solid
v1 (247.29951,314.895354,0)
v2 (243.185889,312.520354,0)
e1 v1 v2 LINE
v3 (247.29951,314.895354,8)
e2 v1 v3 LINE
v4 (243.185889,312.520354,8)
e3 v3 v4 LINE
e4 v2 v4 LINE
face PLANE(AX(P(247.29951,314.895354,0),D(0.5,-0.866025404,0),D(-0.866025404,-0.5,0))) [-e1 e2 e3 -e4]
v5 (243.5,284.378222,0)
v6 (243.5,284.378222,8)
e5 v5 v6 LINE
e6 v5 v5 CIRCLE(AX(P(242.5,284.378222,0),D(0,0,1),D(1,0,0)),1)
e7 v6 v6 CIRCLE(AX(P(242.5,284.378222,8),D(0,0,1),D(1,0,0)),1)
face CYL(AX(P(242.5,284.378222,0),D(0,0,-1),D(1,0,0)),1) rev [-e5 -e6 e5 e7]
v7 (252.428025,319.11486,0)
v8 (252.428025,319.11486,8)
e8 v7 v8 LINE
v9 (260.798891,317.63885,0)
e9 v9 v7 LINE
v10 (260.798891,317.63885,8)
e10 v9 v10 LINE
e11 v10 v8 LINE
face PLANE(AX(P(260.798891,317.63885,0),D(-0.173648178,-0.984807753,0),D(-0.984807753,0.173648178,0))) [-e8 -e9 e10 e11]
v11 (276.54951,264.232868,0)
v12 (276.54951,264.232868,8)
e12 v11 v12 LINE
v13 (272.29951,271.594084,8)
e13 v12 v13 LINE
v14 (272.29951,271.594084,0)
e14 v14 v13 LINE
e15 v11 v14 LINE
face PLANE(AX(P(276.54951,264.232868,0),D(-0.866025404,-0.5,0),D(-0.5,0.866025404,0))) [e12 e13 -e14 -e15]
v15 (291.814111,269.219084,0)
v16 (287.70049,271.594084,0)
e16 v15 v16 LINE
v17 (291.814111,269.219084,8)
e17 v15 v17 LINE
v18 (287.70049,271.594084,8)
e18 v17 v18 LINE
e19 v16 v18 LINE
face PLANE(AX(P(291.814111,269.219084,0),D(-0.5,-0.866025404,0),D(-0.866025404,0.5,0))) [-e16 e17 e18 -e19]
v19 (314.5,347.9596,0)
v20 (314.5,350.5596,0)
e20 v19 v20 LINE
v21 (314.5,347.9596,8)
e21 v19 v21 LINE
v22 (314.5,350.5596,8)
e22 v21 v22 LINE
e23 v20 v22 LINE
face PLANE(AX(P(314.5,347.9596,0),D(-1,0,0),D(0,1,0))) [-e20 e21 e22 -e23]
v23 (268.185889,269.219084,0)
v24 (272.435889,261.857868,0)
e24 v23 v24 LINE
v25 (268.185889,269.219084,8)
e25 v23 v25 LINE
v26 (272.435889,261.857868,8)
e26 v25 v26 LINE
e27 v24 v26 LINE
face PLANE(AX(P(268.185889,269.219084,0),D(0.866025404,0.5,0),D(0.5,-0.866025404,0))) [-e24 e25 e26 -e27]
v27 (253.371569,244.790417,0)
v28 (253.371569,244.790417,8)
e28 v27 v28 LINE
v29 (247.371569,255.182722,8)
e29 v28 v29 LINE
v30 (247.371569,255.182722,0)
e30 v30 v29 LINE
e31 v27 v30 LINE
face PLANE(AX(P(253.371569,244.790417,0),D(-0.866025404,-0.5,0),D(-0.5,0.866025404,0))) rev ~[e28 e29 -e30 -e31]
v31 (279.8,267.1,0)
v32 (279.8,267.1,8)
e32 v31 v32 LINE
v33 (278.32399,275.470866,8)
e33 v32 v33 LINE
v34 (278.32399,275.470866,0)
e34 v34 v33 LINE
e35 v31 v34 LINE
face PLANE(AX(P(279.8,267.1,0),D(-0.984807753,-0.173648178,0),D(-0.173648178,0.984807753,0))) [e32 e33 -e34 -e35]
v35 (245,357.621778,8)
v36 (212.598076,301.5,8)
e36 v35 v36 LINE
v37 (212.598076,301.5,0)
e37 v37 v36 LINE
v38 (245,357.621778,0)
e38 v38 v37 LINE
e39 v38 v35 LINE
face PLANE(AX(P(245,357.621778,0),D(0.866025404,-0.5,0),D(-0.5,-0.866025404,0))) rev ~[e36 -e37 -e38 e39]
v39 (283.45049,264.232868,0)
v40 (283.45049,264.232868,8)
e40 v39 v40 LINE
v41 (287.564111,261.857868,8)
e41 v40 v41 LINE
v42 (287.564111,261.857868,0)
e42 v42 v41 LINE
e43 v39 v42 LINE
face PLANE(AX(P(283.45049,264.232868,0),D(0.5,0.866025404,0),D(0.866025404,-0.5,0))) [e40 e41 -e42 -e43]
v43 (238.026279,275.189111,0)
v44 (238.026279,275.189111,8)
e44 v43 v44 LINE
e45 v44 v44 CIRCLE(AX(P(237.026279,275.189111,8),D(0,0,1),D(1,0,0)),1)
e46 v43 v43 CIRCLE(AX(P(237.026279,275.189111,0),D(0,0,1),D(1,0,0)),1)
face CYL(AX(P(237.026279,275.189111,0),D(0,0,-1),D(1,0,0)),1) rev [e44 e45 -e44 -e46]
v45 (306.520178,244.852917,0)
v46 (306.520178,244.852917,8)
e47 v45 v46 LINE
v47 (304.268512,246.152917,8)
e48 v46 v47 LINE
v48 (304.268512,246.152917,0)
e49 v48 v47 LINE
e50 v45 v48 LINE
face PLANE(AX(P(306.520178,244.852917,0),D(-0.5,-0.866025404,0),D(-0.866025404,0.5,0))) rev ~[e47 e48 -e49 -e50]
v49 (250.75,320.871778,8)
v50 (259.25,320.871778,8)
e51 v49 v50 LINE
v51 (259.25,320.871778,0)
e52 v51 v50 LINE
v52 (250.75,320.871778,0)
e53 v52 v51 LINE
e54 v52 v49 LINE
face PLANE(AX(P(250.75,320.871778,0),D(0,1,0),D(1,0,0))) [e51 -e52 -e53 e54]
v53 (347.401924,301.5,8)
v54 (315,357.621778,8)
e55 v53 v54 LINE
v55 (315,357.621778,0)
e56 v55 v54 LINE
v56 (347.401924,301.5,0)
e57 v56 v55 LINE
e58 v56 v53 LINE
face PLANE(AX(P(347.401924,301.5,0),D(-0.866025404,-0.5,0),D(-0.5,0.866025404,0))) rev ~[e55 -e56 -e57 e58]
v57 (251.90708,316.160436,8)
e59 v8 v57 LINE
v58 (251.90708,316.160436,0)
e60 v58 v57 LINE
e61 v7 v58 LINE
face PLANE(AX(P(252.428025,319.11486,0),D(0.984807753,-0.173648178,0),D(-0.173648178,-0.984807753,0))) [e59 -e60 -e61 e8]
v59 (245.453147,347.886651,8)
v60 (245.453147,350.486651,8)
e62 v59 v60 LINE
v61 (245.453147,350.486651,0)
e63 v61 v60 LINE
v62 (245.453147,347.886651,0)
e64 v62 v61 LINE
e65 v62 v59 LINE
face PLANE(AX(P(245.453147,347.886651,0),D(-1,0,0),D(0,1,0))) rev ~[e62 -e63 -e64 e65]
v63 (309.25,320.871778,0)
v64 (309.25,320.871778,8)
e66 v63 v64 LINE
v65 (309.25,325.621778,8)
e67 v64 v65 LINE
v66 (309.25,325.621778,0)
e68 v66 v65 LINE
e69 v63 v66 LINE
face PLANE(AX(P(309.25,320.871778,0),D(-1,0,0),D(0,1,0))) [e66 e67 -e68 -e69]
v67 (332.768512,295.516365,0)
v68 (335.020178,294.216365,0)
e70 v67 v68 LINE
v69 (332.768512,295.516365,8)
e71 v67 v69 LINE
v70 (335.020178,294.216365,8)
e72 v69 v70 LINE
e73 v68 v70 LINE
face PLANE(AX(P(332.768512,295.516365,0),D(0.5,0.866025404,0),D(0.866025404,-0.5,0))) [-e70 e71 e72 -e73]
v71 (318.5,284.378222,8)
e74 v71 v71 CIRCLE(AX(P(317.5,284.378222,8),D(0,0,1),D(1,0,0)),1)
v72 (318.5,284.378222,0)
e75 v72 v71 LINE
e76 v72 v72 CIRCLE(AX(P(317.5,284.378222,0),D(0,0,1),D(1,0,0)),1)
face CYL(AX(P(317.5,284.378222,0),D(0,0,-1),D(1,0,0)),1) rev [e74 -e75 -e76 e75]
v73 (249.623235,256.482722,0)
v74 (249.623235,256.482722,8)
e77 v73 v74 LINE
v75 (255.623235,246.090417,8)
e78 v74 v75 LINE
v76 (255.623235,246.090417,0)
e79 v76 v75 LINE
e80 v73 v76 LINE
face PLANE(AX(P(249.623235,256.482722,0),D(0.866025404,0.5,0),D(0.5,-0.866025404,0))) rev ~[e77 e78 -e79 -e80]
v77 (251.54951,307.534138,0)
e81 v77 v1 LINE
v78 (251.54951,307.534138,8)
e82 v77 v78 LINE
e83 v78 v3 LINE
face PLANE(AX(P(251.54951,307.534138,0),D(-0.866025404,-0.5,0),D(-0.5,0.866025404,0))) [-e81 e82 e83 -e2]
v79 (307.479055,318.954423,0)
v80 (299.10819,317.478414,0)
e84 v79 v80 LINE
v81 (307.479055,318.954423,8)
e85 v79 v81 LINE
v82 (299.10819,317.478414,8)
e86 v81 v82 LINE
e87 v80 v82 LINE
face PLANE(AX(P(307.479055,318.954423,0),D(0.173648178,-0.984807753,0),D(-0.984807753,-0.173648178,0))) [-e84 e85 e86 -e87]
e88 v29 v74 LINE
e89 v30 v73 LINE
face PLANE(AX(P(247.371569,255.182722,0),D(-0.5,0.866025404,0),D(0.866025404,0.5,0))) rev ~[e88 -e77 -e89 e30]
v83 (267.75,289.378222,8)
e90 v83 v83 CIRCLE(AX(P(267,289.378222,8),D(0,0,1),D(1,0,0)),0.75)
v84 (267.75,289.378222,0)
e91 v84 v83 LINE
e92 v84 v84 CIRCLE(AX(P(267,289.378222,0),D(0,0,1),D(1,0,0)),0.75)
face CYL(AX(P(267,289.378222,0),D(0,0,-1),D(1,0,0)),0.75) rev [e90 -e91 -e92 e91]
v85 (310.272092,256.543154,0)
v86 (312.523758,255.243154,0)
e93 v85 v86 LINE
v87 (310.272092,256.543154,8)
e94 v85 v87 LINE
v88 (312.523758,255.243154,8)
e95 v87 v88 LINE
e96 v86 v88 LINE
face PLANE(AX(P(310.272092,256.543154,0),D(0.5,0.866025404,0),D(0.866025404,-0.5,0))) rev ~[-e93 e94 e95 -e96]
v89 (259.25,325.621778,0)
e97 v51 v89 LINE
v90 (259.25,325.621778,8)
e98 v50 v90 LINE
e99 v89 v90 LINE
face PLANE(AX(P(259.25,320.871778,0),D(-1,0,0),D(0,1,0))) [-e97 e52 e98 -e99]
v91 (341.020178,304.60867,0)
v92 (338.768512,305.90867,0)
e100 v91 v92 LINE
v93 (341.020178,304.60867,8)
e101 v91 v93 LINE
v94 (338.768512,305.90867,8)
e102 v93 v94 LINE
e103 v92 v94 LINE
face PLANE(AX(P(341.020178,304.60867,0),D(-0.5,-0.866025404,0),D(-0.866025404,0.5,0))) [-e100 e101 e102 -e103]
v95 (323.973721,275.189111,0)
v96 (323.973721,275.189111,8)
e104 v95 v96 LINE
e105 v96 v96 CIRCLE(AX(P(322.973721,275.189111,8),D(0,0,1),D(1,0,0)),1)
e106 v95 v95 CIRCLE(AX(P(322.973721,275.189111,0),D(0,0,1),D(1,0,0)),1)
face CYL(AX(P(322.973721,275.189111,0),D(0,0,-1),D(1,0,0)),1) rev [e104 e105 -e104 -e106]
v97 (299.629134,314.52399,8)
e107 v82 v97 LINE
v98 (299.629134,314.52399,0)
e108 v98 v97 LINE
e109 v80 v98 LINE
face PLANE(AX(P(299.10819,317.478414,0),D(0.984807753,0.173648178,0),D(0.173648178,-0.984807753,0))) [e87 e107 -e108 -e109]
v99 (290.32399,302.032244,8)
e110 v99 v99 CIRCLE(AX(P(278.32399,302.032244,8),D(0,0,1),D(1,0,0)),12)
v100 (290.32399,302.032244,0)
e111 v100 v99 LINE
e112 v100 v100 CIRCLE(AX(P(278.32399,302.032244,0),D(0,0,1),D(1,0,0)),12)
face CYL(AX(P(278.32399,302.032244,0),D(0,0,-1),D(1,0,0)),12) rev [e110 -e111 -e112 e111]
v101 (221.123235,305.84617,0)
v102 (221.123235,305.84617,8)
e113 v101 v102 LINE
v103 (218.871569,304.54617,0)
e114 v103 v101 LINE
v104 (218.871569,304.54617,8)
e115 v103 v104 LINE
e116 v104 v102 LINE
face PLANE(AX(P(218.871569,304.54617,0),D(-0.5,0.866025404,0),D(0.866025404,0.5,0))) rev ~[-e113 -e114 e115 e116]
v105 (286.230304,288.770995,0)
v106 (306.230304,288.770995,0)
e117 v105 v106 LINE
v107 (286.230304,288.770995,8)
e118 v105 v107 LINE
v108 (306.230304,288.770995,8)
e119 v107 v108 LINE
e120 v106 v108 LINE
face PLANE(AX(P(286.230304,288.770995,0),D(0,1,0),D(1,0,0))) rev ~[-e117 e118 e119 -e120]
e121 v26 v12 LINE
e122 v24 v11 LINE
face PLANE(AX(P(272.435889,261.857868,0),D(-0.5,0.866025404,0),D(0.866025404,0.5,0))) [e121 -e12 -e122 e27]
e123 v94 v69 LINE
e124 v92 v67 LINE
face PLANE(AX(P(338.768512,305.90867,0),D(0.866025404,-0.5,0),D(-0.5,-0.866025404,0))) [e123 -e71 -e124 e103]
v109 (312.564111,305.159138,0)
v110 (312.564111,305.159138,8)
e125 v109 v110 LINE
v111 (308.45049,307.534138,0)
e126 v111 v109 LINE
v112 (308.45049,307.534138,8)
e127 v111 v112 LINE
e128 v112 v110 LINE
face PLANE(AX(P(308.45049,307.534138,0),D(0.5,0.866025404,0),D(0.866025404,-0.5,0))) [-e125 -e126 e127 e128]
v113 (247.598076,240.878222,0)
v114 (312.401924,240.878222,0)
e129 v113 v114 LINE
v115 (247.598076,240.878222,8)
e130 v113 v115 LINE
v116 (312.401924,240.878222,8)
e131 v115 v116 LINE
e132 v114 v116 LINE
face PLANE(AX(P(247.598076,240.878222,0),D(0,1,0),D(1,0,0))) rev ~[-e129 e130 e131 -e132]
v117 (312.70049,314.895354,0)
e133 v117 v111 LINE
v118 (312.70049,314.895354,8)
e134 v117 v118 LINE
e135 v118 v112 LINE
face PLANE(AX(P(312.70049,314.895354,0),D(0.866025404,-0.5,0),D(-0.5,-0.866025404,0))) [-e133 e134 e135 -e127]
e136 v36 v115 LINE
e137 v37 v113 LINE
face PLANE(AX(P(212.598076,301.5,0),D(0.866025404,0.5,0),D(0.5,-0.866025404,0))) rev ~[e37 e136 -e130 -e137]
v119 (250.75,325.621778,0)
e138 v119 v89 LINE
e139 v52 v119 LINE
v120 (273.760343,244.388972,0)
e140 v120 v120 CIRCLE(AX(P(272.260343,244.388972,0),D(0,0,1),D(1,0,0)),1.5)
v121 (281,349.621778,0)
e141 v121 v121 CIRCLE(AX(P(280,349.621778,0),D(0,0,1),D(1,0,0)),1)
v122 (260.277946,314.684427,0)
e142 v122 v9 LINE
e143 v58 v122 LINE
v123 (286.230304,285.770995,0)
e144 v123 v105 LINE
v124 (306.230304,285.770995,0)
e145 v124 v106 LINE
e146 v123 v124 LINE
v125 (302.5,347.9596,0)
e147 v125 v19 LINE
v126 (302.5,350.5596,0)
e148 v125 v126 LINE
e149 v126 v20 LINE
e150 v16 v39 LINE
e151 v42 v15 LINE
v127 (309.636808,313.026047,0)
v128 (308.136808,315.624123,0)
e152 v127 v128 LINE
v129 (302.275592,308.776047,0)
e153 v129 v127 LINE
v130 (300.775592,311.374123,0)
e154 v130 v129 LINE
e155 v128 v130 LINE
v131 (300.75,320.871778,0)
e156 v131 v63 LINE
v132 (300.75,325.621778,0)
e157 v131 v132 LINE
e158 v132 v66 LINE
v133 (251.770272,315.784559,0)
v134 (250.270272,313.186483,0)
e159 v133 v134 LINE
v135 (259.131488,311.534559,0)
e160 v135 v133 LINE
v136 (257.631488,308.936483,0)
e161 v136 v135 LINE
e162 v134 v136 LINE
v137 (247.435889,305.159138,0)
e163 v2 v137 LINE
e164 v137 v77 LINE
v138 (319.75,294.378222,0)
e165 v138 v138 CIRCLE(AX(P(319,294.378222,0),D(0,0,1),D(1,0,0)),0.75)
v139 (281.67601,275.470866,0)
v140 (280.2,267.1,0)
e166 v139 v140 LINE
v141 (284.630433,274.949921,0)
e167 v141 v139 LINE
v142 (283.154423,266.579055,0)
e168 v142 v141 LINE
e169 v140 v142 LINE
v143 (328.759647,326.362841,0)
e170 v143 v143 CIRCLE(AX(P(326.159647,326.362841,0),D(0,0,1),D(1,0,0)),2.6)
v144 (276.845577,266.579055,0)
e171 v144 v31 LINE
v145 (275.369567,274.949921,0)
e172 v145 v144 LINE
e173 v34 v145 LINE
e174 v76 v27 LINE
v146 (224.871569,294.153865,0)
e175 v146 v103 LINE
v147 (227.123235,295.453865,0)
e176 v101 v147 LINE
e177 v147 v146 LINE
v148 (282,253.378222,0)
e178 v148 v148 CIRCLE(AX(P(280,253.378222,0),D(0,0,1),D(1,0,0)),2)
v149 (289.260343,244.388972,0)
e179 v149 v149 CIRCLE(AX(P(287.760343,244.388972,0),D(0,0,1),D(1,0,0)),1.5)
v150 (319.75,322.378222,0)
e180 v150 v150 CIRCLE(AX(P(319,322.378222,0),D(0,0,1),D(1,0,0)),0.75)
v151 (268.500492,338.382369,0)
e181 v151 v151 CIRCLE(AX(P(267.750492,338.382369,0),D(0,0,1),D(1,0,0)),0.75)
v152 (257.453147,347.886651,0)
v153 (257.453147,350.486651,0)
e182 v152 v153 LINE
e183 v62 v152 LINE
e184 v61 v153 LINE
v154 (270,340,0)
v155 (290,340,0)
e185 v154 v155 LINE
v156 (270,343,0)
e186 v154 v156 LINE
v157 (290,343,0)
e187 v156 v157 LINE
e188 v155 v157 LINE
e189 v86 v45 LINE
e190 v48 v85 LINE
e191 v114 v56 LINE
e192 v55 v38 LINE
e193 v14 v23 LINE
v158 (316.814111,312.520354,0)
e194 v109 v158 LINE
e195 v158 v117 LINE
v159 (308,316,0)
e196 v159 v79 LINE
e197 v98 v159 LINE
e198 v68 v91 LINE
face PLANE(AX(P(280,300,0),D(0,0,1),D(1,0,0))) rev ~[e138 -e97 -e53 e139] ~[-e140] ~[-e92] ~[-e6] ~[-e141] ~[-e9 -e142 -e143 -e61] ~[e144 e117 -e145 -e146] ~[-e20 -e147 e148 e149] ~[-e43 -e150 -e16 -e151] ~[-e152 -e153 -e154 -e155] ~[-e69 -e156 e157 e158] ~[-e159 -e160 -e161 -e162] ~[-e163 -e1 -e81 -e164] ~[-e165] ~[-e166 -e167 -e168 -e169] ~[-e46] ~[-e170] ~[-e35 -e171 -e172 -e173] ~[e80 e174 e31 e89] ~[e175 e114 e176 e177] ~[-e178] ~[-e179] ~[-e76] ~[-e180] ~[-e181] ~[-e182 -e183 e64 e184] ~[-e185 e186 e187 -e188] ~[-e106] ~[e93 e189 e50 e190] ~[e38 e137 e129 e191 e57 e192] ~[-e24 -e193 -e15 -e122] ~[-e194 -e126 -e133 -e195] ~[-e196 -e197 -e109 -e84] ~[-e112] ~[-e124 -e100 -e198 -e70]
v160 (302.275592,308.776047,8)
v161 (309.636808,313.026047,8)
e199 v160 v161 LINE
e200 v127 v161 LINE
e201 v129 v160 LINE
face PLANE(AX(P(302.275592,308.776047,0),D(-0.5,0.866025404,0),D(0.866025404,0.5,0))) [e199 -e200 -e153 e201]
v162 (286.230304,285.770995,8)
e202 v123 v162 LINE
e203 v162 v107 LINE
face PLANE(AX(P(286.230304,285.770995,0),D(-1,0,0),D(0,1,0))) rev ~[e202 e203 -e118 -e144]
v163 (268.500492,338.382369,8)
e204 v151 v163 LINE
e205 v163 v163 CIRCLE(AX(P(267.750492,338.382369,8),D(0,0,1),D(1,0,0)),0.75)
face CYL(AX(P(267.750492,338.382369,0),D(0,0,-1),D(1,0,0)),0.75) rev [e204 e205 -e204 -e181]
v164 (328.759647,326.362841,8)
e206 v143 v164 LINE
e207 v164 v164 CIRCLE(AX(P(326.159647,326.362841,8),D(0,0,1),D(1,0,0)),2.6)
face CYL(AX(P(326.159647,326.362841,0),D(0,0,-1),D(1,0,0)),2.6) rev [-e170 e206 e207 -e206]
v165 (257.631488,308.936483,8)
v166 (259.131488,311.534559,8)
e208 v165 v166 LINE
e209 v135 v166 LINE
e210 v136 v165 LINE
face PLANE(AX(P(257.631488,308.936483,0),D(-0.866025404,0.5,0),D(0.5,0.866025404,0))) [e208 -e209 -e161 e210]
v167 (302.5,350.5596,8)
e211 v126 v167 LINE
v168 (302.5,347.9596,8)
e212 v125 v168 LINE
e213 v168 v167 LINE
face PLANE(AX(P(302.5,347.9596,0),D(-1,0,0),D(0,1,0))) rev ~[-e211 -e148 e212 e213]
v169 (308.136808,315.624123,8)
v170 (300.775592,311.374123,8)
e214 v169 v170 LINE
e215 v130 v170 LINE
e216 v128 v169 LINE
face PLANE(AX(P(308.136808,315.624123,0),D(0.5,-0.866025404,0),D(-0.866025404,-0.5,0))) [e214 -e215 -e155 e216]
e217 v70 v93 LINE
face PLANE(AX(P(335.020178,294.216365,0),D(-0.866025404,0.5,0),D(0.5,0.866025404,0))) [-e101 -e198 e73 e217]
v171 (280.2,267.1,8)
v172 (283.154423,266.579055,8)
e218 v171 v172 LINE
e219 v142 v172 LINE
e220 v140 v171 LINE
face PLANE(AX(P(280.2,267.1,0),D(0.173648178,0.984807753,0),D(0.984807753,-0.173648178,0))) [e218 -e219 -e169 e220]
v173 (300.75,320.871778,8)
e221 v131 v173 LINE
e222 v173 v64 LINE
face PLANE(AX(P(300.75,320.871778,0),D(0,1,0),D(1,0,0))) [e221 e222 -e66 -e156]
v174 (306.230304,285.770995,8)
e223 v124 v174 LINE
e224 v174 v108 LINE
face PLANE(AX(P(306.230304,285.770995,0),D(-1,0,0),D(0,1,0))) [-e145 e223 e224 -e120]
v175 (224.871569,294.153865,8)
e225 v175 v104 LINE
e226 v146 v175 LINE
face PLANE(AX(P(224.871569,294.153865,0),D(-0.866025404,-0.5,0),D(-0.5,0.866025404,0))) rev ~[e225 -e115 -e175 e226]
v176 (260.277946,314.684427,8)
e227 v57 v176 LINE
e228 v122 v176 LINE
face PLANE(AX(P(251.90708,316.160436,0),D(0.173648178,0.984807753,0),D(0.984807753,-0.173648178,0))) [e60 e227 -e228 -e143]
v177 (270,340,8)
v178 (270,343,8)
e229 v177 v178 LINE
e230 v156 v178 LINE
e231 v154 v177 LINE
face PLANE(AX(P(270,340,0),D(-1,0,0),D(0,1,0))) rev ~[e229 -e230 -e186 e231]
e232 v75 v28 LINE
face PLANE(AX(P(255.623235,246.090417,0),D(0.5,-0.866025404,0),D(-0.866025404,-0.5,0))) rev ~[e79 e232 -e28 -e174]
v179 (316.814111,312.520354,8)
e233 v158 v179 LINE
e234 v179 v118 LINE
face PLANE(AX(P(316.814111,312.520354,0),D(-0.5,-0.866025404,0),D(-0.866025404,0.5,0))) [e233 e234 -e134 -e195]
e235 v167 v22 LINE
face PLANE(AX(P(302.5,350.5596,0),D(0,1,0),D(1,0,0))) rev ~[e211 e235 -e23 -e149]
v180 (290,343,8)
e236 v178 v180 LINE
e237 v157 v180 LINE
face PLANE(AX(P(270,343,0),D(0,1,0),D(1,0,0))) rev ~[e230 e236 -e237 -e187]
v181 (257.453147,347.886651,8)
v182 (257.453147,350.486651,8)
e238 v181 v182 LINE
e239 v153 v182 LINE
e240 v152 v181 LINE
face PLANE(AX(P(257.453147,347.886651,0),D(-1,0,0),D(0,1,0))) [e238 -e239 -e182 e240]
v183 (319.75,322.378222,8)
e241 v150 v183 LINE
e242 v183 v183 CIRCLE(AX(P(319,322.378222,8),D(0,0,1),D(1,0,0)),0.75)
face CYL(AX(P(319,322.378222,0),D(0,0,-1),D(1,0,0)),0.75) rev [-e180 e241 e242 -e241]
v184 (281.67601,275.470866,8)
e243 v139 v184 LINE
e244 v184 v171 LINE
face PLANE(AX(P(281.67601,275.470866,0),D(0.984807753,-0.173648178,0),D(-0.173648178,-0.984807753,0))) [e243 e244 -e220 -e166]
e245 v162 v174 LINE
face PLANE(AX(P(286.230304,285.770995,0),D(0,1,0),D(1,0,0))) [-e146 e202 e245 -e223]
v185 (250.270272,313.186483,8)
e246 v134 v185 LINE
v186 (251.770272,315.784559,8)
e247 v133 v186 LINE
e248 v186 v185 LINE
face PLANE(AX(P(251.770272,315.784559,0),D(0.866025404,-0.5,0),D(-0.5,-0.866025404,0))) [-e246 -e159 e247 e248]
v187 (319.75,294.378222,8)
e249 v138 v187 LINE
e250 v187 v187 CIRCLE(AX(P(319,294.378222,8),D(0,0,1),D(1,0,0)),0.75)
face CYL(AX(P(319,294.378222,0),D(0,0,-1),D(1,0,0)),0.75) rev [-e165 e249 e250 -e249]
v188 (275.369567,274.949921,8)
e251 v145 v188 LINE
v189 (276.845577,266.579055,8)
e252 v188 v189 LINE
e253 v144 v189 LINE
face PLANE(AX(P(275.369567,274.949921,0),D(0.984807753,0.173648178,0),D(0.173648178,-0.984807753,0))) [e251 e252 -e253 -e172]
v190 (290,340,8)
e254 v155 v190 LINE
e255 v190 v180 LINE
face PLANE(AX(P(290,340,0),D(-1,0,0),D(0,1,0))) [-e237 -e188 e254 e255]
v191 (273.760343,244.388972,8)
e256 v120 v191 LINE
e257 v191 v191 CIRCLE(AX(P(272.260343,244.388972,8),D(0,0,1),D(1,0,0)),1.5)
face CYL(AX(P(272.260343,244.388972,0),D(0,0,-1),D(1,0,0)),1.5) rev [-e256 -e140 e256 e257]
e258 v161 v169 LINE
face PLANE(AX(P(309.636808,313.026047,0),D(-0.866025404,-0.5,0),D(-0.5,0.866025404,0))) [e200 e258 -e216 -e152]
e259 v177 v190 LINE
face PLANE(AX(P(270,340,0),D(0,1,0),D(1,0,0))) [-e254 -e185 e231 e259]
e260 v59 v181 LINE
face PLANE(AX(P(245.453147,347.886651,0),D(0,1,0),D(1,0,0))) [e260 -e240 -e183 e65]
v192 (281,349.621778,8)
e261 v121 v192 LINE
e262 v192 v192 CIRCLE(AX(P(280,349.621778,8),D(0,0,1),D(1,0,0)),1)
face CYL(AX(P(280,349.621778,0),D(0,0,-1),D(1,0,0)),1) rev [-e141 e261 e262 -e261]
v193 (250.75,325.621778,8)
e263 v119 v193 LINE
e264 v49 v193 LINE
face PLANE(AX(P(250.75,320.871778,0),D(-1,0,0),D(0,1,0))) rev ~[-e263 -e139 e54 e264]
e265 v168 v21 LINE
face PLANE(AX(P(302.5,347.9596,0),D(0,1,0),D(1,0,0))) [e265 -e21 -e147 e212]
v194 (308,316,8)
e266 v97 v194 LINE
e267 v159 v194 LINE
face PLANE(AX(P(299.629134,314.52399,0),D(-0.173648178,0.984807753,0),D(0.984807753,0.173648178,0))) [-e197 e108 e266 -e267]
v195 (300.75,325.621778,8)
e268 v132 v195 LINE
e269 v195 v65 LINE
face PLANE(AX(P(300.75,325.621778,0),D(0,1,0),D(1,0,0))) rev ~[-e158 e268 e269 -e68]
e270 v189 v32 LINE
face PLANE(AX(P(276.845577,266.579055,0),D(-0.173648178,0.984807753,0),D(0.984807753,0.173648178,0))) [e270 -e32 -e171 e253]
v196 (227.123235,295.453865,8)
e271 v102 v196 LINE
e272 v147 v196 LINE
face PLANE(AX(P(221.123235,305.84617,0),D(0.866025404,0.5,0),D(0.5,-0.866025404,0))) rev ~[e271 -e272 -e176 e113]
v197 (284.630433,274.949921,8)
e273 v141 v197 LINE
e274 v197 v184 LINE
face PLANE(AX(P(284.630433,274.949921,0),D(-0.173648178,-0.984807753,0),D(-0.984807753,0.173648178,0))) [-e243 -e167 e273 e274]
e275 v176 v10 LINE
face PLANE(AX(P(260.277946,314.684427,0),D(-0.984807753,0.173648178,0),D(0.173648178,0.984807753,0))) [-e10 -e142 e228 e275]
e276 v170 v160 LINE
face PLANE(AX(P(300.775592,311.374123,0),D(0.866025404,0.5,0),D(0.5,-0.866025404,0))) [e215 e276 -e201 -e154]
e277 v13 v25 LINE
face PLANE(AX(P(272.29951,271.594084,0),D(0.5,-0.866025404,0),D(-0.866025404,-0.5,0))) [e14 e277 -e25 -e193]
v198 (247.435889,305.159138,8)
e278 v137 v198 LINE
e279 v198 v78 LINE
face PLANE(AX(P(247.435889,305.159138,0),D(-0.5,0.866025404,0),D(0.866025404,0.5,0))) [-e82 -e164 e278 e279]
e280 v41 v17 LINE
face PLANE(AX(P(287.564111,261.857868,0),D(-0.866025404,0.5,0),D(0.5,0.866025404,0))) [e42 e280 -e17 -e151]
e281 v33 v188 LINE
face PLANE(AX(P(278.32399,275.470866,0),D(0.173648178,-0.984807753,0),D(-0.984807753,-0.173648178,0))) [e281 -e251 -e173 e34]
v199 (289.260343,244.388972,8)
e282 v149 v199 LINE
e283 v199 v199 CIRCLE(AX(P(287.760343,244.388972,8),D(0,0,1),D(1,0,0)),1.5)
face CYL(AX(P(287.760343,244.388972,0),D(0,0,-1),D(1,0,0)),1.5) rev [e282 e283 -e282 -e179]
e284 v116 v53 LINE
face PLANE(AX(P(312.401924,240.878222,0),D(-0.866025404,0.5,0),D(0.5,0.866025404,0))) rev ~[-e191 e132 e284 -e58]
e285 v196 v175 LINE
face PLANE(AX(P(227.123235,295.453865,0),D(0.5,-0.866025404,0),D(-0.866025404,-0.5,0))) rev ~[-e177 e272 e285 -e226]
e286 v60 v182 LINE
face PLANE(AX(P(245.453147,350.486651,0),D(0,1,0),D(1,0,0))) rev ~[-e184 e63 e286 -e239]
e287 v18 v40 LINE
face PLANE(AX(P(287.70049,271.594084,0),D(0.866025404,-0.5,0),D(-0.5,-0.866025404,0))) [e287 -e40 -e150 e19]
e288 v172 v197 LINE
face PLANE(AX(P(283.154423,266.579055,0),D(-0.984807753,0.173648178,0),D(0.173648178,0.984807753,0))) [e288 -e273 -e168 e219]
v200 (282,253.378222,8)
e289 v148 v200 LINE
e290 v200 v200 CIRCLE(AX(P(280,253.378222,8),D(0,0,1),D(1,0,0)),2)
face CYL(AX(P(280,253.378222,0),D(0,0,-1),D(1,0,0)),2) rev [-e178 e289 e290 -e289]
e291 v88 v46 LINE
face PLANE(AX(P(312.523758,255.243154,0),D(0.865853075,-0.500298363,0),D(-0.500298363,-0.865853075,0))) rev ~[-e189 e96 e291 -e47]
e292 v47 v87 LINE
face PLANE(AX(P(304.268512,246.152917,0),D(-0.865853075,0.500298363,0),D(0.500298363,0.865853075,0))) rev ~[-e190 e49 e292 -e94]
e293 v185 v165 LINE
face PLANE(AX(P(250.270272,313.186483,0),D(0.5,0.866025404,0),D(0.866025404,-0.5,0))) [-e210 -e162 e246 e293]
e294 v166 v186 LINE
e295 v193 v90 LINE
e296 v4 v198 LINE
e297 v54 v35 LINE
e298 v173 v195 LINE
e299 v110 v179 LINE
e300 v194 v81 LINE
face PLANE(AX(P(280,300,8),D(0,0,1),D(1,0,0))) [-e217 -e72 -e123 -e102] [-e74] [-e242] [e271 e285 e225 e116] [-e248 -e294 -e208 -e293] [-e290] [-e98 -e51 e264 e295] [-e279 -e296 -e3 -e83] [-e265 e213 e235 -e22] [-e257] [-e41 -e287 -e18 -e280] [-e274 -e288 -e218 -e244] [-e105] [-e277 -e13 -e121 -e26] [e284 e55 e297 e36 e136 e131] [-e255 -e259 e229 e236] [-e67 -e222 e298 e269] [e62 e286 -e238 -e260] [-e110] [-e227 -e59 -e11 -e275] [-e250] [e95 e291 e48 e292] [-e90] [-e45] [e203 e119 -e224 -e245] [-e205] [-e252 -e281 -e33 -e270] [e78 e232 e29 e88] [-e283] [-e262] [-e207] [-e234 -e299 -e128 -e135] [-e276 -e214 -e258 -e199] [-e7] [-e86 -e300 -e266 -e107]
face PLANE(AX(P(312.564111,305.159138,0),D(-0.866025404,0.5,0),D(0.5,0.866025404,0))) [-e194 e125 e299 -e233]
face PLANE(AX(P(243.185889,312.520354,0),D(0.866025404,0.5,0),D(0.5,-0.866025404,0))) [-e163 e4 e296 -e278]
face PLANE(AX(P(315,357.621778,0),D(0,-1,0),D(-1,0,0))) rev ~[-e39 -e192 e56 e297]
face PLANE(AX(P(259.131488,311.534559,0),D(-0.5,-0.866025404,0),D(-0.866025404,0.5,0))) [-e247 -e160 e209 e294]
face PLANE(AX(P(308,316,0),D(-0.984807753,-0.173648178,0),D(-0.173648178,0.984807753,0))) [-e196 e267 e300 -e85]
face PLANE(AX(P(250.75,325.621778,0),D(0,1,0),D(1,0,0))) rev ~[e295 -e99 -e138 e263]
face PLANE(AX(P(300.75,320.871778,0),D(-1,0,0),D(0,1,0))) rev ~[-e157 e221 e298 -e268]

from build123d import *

# Parameters (mm, degrees)
ESBO_O2_R                = 2
ESBO_O2_R_2              = 1.5
ESBO_O2_R_3              = 1
ESBO_O2_R_4              = 0.75
ESBO_O2_R_5              = 2.6
ESBO_O2_R_6              = 12
ESBO_O2_W                = 12
ESBO_O2_H                = 2.6
ESBO_O2_W_2              = 8.5
ESBO_O2_H_2              = 4.75
ESBO_O2_W_3              = 20
ESBO_O2_H_3              = 3
RESSALTO_EXTRUS_O1_DEPTH = 8


with BuildPart() as part:
    # Esboço2 → Ressalto-extrusão1 (new body)
    with BuildSketch(Plane.XY):
        Polygon((312.401923789, 240.878221735), (347.401923789, 301.5), (315, 357.621778265), (245, 357.621778265), (212.598076211, 301.5), (247.598076211, 240.878221735), align=None)
        with Locations((280, 253.378221735)):
            Circle(ESBO_O2_R, mode=Mode.SUBTRACT)
        with Locations((272.260343171, 244.388972359)):
            Circle(ESBO_O2_R_2, mode=Mode.SUBTRACT)
        with Locations((287.760343171, 244.388972359)):
            Circle(ESBO_O2_R_2, mode=Mode.SUBTRACT)
        with Locations((242.5, 284.378221735)):
            Circle(ESBO_O2_R_3, mode=Mode.SUBTRACT)
        with Locations((317.5, 284.378221735)):
            Circle(ESBO_O2_R_3, mode=Mode.SUBTRACT)
        with Locations((267.750492284, 338.382369461)):
            Circle(ESBO_O2_R_4, mode=Mode.SUBTRACT)
        with Locations((267, 289.378221735)):
            Circle(ESBO_O2_R_4, mode=Mode.SUBTRACT)
        with Locations((319, 294.378221735)):
            Circle(ESBO_O2_R_4, mode=Mode.SUBTRACT)
        with Locations((319, 322.378221735)):
            Circle(ESBO_O2_R_4, mode=Mode.SUBTRACT)
        with Locations((280, 349.621778265)):
            Circle(ESBO_O2_R_3, mode=Mode.SUBTRACT)
        with Locations((237.026279442, 275.189110868)):
            Circle(ESBO_O2_R_3, mode=Mode.SUBTRACT)
        with Locations((322.973720558, 275.189110868)):
            Circle(ESBO_O2_R_3, mode=Mode.SUBTRACT)
        with Locations((326.159646677, 326.362840761)):
            Circle(ESBO_O2_R_5, mode=Mode.SUBTRACT)
        with Locations((278.32399049, 302.032244112)):
            Circle(ESBO_O2_R_6, mode=Mode.SUBTRACT)
        with Locations((251.453146627, 349.186651246)):
            Rectangle(ESBO_O2_W, ESBO_O2_H, mode=Mode.SUBTRACT)
        with Locations((308.5, 349.259600438)):
            Rectangle(ESBO_O2_W, ESBO_O2_H, mode=Mode.SUBTRACT)
        Polygon((332.76851184, 295.516364843), (335.020177889, 294.216364843), (341.020177889, 304.608669688), (338.76851184, 305.908669688), align=None, mode=Mode.SUBTRACT)
        Polygon((310.272092192, 256.543153732), (312.523758242, 255.243153732), (306.520177889, 244.852916827), (304.26851184, 246.152916827), align=None, mode=Mode.SUBTRACT)
        Polygon((255.623234985, 246.090416827), (253.371568935, 244.790416827), (247.371568935, 255.182721672), (249.623234985, 256.482721672), align=None, mode=Mode.SUBTRACT)
        Polygon((227.123234985, 295.453864843), (224.871568935, 294.153864843), (218.871568935, 304.546169688), (221.123234985, 305.846169688), align=None, mode=Mode.SUBTRACT)
        with Locations((305, 323.246778265)):
            Rectangle(ESBO_O2_W_2, ESBO_O2_H_2, mode=Mode.SUBTRACT)
        Polygon((312.7004902, 314.895353928), (308.4504902, 307.534137996), (312.564110868, 305.159137996), (316.814110868, 312.520353928), align=None, mode=Mode.SUBTRACT)
        with Locations((255, 323.246778265)):
            Rectangle(ESBO_O2_W_2, ESBO_O2_H_2, mode=Mode.SUBTRACT)
        Polygon((251.5495098, 307.534137996), (247.2995098, 314.895353928), (243.185889132, 312.520353928), (247.435889132, 305.159137996), align=None, mode=Mode.SUBTRACT)
        Polygon((272.2995098, 271.594083739), (268.185889132, 269.219083739), (272.435889132, 261.857867807), (276.5495098, 264.232867807), align=None, mode=Mode.SUBTRACT)
        Polygon((287.7004902, 271.594083739), (283.4504902, 264.232867807), (287.564110868, 261.857867807), (291.814110868, 269.219083739), align=None, mode=Mode.SUBTRACT)
        Polygon((279.8, 267.1), (278.32399049, 275.470865901), (275.369567231, 274.949921368), (276.845576741, 266.579055467), align=None, mode=Mode.SUBTRACT)
        Polygon((281.67600951, 275.470865901), (280.2, 267.1), (283.154423259, 266.579055467), (284.630432769, 274.949921368), align=None, mode=Mode.SUBTRACT)
        Polygon((308.136808057, 315.624122952), (300.775592125, 311.374122952), (302.275592125, 308.77604674), (309.636808057, 313.02604674), align=None, mode=Mode.SUBTRACT)
        Polygon((299.629134099, 314.52399049), (308, 316), (307.479055467, 318.954423259), (299.108189566, 317.478413749), align=None, mode=Mode.SUBTRACT)
        Polygon((251.907080103, 316.160436254), (260.277946003, 314.684426744), (260.798890536, 317.638850003), (252.428024636, 319.114859513), align=None, mode=Mode.SUBTRACT)
        Polygon((259.131487977, 311.534559206), (251.770272045, 315.784559206), (250.270272045, 313.186482994), (257.631487977, 308.936482994), align=None, mode=Mode.SUBTRACT)
        with Locations((280, 341.5)):
            Rectangle(ESBO_O2_W_3, ESBO_O2_H_3, mode=Mode.SUBTRACT)
        with Locations((296.230303561, 287.270994592)):
            Rectangle(ESBO_O2_W_3, ESBO_O2_H_3, mode=Mode.SUBTRACT)
    extrude(amount=RESSALTO_EXTRUS_O1_DEPTH)


solid = part.part
